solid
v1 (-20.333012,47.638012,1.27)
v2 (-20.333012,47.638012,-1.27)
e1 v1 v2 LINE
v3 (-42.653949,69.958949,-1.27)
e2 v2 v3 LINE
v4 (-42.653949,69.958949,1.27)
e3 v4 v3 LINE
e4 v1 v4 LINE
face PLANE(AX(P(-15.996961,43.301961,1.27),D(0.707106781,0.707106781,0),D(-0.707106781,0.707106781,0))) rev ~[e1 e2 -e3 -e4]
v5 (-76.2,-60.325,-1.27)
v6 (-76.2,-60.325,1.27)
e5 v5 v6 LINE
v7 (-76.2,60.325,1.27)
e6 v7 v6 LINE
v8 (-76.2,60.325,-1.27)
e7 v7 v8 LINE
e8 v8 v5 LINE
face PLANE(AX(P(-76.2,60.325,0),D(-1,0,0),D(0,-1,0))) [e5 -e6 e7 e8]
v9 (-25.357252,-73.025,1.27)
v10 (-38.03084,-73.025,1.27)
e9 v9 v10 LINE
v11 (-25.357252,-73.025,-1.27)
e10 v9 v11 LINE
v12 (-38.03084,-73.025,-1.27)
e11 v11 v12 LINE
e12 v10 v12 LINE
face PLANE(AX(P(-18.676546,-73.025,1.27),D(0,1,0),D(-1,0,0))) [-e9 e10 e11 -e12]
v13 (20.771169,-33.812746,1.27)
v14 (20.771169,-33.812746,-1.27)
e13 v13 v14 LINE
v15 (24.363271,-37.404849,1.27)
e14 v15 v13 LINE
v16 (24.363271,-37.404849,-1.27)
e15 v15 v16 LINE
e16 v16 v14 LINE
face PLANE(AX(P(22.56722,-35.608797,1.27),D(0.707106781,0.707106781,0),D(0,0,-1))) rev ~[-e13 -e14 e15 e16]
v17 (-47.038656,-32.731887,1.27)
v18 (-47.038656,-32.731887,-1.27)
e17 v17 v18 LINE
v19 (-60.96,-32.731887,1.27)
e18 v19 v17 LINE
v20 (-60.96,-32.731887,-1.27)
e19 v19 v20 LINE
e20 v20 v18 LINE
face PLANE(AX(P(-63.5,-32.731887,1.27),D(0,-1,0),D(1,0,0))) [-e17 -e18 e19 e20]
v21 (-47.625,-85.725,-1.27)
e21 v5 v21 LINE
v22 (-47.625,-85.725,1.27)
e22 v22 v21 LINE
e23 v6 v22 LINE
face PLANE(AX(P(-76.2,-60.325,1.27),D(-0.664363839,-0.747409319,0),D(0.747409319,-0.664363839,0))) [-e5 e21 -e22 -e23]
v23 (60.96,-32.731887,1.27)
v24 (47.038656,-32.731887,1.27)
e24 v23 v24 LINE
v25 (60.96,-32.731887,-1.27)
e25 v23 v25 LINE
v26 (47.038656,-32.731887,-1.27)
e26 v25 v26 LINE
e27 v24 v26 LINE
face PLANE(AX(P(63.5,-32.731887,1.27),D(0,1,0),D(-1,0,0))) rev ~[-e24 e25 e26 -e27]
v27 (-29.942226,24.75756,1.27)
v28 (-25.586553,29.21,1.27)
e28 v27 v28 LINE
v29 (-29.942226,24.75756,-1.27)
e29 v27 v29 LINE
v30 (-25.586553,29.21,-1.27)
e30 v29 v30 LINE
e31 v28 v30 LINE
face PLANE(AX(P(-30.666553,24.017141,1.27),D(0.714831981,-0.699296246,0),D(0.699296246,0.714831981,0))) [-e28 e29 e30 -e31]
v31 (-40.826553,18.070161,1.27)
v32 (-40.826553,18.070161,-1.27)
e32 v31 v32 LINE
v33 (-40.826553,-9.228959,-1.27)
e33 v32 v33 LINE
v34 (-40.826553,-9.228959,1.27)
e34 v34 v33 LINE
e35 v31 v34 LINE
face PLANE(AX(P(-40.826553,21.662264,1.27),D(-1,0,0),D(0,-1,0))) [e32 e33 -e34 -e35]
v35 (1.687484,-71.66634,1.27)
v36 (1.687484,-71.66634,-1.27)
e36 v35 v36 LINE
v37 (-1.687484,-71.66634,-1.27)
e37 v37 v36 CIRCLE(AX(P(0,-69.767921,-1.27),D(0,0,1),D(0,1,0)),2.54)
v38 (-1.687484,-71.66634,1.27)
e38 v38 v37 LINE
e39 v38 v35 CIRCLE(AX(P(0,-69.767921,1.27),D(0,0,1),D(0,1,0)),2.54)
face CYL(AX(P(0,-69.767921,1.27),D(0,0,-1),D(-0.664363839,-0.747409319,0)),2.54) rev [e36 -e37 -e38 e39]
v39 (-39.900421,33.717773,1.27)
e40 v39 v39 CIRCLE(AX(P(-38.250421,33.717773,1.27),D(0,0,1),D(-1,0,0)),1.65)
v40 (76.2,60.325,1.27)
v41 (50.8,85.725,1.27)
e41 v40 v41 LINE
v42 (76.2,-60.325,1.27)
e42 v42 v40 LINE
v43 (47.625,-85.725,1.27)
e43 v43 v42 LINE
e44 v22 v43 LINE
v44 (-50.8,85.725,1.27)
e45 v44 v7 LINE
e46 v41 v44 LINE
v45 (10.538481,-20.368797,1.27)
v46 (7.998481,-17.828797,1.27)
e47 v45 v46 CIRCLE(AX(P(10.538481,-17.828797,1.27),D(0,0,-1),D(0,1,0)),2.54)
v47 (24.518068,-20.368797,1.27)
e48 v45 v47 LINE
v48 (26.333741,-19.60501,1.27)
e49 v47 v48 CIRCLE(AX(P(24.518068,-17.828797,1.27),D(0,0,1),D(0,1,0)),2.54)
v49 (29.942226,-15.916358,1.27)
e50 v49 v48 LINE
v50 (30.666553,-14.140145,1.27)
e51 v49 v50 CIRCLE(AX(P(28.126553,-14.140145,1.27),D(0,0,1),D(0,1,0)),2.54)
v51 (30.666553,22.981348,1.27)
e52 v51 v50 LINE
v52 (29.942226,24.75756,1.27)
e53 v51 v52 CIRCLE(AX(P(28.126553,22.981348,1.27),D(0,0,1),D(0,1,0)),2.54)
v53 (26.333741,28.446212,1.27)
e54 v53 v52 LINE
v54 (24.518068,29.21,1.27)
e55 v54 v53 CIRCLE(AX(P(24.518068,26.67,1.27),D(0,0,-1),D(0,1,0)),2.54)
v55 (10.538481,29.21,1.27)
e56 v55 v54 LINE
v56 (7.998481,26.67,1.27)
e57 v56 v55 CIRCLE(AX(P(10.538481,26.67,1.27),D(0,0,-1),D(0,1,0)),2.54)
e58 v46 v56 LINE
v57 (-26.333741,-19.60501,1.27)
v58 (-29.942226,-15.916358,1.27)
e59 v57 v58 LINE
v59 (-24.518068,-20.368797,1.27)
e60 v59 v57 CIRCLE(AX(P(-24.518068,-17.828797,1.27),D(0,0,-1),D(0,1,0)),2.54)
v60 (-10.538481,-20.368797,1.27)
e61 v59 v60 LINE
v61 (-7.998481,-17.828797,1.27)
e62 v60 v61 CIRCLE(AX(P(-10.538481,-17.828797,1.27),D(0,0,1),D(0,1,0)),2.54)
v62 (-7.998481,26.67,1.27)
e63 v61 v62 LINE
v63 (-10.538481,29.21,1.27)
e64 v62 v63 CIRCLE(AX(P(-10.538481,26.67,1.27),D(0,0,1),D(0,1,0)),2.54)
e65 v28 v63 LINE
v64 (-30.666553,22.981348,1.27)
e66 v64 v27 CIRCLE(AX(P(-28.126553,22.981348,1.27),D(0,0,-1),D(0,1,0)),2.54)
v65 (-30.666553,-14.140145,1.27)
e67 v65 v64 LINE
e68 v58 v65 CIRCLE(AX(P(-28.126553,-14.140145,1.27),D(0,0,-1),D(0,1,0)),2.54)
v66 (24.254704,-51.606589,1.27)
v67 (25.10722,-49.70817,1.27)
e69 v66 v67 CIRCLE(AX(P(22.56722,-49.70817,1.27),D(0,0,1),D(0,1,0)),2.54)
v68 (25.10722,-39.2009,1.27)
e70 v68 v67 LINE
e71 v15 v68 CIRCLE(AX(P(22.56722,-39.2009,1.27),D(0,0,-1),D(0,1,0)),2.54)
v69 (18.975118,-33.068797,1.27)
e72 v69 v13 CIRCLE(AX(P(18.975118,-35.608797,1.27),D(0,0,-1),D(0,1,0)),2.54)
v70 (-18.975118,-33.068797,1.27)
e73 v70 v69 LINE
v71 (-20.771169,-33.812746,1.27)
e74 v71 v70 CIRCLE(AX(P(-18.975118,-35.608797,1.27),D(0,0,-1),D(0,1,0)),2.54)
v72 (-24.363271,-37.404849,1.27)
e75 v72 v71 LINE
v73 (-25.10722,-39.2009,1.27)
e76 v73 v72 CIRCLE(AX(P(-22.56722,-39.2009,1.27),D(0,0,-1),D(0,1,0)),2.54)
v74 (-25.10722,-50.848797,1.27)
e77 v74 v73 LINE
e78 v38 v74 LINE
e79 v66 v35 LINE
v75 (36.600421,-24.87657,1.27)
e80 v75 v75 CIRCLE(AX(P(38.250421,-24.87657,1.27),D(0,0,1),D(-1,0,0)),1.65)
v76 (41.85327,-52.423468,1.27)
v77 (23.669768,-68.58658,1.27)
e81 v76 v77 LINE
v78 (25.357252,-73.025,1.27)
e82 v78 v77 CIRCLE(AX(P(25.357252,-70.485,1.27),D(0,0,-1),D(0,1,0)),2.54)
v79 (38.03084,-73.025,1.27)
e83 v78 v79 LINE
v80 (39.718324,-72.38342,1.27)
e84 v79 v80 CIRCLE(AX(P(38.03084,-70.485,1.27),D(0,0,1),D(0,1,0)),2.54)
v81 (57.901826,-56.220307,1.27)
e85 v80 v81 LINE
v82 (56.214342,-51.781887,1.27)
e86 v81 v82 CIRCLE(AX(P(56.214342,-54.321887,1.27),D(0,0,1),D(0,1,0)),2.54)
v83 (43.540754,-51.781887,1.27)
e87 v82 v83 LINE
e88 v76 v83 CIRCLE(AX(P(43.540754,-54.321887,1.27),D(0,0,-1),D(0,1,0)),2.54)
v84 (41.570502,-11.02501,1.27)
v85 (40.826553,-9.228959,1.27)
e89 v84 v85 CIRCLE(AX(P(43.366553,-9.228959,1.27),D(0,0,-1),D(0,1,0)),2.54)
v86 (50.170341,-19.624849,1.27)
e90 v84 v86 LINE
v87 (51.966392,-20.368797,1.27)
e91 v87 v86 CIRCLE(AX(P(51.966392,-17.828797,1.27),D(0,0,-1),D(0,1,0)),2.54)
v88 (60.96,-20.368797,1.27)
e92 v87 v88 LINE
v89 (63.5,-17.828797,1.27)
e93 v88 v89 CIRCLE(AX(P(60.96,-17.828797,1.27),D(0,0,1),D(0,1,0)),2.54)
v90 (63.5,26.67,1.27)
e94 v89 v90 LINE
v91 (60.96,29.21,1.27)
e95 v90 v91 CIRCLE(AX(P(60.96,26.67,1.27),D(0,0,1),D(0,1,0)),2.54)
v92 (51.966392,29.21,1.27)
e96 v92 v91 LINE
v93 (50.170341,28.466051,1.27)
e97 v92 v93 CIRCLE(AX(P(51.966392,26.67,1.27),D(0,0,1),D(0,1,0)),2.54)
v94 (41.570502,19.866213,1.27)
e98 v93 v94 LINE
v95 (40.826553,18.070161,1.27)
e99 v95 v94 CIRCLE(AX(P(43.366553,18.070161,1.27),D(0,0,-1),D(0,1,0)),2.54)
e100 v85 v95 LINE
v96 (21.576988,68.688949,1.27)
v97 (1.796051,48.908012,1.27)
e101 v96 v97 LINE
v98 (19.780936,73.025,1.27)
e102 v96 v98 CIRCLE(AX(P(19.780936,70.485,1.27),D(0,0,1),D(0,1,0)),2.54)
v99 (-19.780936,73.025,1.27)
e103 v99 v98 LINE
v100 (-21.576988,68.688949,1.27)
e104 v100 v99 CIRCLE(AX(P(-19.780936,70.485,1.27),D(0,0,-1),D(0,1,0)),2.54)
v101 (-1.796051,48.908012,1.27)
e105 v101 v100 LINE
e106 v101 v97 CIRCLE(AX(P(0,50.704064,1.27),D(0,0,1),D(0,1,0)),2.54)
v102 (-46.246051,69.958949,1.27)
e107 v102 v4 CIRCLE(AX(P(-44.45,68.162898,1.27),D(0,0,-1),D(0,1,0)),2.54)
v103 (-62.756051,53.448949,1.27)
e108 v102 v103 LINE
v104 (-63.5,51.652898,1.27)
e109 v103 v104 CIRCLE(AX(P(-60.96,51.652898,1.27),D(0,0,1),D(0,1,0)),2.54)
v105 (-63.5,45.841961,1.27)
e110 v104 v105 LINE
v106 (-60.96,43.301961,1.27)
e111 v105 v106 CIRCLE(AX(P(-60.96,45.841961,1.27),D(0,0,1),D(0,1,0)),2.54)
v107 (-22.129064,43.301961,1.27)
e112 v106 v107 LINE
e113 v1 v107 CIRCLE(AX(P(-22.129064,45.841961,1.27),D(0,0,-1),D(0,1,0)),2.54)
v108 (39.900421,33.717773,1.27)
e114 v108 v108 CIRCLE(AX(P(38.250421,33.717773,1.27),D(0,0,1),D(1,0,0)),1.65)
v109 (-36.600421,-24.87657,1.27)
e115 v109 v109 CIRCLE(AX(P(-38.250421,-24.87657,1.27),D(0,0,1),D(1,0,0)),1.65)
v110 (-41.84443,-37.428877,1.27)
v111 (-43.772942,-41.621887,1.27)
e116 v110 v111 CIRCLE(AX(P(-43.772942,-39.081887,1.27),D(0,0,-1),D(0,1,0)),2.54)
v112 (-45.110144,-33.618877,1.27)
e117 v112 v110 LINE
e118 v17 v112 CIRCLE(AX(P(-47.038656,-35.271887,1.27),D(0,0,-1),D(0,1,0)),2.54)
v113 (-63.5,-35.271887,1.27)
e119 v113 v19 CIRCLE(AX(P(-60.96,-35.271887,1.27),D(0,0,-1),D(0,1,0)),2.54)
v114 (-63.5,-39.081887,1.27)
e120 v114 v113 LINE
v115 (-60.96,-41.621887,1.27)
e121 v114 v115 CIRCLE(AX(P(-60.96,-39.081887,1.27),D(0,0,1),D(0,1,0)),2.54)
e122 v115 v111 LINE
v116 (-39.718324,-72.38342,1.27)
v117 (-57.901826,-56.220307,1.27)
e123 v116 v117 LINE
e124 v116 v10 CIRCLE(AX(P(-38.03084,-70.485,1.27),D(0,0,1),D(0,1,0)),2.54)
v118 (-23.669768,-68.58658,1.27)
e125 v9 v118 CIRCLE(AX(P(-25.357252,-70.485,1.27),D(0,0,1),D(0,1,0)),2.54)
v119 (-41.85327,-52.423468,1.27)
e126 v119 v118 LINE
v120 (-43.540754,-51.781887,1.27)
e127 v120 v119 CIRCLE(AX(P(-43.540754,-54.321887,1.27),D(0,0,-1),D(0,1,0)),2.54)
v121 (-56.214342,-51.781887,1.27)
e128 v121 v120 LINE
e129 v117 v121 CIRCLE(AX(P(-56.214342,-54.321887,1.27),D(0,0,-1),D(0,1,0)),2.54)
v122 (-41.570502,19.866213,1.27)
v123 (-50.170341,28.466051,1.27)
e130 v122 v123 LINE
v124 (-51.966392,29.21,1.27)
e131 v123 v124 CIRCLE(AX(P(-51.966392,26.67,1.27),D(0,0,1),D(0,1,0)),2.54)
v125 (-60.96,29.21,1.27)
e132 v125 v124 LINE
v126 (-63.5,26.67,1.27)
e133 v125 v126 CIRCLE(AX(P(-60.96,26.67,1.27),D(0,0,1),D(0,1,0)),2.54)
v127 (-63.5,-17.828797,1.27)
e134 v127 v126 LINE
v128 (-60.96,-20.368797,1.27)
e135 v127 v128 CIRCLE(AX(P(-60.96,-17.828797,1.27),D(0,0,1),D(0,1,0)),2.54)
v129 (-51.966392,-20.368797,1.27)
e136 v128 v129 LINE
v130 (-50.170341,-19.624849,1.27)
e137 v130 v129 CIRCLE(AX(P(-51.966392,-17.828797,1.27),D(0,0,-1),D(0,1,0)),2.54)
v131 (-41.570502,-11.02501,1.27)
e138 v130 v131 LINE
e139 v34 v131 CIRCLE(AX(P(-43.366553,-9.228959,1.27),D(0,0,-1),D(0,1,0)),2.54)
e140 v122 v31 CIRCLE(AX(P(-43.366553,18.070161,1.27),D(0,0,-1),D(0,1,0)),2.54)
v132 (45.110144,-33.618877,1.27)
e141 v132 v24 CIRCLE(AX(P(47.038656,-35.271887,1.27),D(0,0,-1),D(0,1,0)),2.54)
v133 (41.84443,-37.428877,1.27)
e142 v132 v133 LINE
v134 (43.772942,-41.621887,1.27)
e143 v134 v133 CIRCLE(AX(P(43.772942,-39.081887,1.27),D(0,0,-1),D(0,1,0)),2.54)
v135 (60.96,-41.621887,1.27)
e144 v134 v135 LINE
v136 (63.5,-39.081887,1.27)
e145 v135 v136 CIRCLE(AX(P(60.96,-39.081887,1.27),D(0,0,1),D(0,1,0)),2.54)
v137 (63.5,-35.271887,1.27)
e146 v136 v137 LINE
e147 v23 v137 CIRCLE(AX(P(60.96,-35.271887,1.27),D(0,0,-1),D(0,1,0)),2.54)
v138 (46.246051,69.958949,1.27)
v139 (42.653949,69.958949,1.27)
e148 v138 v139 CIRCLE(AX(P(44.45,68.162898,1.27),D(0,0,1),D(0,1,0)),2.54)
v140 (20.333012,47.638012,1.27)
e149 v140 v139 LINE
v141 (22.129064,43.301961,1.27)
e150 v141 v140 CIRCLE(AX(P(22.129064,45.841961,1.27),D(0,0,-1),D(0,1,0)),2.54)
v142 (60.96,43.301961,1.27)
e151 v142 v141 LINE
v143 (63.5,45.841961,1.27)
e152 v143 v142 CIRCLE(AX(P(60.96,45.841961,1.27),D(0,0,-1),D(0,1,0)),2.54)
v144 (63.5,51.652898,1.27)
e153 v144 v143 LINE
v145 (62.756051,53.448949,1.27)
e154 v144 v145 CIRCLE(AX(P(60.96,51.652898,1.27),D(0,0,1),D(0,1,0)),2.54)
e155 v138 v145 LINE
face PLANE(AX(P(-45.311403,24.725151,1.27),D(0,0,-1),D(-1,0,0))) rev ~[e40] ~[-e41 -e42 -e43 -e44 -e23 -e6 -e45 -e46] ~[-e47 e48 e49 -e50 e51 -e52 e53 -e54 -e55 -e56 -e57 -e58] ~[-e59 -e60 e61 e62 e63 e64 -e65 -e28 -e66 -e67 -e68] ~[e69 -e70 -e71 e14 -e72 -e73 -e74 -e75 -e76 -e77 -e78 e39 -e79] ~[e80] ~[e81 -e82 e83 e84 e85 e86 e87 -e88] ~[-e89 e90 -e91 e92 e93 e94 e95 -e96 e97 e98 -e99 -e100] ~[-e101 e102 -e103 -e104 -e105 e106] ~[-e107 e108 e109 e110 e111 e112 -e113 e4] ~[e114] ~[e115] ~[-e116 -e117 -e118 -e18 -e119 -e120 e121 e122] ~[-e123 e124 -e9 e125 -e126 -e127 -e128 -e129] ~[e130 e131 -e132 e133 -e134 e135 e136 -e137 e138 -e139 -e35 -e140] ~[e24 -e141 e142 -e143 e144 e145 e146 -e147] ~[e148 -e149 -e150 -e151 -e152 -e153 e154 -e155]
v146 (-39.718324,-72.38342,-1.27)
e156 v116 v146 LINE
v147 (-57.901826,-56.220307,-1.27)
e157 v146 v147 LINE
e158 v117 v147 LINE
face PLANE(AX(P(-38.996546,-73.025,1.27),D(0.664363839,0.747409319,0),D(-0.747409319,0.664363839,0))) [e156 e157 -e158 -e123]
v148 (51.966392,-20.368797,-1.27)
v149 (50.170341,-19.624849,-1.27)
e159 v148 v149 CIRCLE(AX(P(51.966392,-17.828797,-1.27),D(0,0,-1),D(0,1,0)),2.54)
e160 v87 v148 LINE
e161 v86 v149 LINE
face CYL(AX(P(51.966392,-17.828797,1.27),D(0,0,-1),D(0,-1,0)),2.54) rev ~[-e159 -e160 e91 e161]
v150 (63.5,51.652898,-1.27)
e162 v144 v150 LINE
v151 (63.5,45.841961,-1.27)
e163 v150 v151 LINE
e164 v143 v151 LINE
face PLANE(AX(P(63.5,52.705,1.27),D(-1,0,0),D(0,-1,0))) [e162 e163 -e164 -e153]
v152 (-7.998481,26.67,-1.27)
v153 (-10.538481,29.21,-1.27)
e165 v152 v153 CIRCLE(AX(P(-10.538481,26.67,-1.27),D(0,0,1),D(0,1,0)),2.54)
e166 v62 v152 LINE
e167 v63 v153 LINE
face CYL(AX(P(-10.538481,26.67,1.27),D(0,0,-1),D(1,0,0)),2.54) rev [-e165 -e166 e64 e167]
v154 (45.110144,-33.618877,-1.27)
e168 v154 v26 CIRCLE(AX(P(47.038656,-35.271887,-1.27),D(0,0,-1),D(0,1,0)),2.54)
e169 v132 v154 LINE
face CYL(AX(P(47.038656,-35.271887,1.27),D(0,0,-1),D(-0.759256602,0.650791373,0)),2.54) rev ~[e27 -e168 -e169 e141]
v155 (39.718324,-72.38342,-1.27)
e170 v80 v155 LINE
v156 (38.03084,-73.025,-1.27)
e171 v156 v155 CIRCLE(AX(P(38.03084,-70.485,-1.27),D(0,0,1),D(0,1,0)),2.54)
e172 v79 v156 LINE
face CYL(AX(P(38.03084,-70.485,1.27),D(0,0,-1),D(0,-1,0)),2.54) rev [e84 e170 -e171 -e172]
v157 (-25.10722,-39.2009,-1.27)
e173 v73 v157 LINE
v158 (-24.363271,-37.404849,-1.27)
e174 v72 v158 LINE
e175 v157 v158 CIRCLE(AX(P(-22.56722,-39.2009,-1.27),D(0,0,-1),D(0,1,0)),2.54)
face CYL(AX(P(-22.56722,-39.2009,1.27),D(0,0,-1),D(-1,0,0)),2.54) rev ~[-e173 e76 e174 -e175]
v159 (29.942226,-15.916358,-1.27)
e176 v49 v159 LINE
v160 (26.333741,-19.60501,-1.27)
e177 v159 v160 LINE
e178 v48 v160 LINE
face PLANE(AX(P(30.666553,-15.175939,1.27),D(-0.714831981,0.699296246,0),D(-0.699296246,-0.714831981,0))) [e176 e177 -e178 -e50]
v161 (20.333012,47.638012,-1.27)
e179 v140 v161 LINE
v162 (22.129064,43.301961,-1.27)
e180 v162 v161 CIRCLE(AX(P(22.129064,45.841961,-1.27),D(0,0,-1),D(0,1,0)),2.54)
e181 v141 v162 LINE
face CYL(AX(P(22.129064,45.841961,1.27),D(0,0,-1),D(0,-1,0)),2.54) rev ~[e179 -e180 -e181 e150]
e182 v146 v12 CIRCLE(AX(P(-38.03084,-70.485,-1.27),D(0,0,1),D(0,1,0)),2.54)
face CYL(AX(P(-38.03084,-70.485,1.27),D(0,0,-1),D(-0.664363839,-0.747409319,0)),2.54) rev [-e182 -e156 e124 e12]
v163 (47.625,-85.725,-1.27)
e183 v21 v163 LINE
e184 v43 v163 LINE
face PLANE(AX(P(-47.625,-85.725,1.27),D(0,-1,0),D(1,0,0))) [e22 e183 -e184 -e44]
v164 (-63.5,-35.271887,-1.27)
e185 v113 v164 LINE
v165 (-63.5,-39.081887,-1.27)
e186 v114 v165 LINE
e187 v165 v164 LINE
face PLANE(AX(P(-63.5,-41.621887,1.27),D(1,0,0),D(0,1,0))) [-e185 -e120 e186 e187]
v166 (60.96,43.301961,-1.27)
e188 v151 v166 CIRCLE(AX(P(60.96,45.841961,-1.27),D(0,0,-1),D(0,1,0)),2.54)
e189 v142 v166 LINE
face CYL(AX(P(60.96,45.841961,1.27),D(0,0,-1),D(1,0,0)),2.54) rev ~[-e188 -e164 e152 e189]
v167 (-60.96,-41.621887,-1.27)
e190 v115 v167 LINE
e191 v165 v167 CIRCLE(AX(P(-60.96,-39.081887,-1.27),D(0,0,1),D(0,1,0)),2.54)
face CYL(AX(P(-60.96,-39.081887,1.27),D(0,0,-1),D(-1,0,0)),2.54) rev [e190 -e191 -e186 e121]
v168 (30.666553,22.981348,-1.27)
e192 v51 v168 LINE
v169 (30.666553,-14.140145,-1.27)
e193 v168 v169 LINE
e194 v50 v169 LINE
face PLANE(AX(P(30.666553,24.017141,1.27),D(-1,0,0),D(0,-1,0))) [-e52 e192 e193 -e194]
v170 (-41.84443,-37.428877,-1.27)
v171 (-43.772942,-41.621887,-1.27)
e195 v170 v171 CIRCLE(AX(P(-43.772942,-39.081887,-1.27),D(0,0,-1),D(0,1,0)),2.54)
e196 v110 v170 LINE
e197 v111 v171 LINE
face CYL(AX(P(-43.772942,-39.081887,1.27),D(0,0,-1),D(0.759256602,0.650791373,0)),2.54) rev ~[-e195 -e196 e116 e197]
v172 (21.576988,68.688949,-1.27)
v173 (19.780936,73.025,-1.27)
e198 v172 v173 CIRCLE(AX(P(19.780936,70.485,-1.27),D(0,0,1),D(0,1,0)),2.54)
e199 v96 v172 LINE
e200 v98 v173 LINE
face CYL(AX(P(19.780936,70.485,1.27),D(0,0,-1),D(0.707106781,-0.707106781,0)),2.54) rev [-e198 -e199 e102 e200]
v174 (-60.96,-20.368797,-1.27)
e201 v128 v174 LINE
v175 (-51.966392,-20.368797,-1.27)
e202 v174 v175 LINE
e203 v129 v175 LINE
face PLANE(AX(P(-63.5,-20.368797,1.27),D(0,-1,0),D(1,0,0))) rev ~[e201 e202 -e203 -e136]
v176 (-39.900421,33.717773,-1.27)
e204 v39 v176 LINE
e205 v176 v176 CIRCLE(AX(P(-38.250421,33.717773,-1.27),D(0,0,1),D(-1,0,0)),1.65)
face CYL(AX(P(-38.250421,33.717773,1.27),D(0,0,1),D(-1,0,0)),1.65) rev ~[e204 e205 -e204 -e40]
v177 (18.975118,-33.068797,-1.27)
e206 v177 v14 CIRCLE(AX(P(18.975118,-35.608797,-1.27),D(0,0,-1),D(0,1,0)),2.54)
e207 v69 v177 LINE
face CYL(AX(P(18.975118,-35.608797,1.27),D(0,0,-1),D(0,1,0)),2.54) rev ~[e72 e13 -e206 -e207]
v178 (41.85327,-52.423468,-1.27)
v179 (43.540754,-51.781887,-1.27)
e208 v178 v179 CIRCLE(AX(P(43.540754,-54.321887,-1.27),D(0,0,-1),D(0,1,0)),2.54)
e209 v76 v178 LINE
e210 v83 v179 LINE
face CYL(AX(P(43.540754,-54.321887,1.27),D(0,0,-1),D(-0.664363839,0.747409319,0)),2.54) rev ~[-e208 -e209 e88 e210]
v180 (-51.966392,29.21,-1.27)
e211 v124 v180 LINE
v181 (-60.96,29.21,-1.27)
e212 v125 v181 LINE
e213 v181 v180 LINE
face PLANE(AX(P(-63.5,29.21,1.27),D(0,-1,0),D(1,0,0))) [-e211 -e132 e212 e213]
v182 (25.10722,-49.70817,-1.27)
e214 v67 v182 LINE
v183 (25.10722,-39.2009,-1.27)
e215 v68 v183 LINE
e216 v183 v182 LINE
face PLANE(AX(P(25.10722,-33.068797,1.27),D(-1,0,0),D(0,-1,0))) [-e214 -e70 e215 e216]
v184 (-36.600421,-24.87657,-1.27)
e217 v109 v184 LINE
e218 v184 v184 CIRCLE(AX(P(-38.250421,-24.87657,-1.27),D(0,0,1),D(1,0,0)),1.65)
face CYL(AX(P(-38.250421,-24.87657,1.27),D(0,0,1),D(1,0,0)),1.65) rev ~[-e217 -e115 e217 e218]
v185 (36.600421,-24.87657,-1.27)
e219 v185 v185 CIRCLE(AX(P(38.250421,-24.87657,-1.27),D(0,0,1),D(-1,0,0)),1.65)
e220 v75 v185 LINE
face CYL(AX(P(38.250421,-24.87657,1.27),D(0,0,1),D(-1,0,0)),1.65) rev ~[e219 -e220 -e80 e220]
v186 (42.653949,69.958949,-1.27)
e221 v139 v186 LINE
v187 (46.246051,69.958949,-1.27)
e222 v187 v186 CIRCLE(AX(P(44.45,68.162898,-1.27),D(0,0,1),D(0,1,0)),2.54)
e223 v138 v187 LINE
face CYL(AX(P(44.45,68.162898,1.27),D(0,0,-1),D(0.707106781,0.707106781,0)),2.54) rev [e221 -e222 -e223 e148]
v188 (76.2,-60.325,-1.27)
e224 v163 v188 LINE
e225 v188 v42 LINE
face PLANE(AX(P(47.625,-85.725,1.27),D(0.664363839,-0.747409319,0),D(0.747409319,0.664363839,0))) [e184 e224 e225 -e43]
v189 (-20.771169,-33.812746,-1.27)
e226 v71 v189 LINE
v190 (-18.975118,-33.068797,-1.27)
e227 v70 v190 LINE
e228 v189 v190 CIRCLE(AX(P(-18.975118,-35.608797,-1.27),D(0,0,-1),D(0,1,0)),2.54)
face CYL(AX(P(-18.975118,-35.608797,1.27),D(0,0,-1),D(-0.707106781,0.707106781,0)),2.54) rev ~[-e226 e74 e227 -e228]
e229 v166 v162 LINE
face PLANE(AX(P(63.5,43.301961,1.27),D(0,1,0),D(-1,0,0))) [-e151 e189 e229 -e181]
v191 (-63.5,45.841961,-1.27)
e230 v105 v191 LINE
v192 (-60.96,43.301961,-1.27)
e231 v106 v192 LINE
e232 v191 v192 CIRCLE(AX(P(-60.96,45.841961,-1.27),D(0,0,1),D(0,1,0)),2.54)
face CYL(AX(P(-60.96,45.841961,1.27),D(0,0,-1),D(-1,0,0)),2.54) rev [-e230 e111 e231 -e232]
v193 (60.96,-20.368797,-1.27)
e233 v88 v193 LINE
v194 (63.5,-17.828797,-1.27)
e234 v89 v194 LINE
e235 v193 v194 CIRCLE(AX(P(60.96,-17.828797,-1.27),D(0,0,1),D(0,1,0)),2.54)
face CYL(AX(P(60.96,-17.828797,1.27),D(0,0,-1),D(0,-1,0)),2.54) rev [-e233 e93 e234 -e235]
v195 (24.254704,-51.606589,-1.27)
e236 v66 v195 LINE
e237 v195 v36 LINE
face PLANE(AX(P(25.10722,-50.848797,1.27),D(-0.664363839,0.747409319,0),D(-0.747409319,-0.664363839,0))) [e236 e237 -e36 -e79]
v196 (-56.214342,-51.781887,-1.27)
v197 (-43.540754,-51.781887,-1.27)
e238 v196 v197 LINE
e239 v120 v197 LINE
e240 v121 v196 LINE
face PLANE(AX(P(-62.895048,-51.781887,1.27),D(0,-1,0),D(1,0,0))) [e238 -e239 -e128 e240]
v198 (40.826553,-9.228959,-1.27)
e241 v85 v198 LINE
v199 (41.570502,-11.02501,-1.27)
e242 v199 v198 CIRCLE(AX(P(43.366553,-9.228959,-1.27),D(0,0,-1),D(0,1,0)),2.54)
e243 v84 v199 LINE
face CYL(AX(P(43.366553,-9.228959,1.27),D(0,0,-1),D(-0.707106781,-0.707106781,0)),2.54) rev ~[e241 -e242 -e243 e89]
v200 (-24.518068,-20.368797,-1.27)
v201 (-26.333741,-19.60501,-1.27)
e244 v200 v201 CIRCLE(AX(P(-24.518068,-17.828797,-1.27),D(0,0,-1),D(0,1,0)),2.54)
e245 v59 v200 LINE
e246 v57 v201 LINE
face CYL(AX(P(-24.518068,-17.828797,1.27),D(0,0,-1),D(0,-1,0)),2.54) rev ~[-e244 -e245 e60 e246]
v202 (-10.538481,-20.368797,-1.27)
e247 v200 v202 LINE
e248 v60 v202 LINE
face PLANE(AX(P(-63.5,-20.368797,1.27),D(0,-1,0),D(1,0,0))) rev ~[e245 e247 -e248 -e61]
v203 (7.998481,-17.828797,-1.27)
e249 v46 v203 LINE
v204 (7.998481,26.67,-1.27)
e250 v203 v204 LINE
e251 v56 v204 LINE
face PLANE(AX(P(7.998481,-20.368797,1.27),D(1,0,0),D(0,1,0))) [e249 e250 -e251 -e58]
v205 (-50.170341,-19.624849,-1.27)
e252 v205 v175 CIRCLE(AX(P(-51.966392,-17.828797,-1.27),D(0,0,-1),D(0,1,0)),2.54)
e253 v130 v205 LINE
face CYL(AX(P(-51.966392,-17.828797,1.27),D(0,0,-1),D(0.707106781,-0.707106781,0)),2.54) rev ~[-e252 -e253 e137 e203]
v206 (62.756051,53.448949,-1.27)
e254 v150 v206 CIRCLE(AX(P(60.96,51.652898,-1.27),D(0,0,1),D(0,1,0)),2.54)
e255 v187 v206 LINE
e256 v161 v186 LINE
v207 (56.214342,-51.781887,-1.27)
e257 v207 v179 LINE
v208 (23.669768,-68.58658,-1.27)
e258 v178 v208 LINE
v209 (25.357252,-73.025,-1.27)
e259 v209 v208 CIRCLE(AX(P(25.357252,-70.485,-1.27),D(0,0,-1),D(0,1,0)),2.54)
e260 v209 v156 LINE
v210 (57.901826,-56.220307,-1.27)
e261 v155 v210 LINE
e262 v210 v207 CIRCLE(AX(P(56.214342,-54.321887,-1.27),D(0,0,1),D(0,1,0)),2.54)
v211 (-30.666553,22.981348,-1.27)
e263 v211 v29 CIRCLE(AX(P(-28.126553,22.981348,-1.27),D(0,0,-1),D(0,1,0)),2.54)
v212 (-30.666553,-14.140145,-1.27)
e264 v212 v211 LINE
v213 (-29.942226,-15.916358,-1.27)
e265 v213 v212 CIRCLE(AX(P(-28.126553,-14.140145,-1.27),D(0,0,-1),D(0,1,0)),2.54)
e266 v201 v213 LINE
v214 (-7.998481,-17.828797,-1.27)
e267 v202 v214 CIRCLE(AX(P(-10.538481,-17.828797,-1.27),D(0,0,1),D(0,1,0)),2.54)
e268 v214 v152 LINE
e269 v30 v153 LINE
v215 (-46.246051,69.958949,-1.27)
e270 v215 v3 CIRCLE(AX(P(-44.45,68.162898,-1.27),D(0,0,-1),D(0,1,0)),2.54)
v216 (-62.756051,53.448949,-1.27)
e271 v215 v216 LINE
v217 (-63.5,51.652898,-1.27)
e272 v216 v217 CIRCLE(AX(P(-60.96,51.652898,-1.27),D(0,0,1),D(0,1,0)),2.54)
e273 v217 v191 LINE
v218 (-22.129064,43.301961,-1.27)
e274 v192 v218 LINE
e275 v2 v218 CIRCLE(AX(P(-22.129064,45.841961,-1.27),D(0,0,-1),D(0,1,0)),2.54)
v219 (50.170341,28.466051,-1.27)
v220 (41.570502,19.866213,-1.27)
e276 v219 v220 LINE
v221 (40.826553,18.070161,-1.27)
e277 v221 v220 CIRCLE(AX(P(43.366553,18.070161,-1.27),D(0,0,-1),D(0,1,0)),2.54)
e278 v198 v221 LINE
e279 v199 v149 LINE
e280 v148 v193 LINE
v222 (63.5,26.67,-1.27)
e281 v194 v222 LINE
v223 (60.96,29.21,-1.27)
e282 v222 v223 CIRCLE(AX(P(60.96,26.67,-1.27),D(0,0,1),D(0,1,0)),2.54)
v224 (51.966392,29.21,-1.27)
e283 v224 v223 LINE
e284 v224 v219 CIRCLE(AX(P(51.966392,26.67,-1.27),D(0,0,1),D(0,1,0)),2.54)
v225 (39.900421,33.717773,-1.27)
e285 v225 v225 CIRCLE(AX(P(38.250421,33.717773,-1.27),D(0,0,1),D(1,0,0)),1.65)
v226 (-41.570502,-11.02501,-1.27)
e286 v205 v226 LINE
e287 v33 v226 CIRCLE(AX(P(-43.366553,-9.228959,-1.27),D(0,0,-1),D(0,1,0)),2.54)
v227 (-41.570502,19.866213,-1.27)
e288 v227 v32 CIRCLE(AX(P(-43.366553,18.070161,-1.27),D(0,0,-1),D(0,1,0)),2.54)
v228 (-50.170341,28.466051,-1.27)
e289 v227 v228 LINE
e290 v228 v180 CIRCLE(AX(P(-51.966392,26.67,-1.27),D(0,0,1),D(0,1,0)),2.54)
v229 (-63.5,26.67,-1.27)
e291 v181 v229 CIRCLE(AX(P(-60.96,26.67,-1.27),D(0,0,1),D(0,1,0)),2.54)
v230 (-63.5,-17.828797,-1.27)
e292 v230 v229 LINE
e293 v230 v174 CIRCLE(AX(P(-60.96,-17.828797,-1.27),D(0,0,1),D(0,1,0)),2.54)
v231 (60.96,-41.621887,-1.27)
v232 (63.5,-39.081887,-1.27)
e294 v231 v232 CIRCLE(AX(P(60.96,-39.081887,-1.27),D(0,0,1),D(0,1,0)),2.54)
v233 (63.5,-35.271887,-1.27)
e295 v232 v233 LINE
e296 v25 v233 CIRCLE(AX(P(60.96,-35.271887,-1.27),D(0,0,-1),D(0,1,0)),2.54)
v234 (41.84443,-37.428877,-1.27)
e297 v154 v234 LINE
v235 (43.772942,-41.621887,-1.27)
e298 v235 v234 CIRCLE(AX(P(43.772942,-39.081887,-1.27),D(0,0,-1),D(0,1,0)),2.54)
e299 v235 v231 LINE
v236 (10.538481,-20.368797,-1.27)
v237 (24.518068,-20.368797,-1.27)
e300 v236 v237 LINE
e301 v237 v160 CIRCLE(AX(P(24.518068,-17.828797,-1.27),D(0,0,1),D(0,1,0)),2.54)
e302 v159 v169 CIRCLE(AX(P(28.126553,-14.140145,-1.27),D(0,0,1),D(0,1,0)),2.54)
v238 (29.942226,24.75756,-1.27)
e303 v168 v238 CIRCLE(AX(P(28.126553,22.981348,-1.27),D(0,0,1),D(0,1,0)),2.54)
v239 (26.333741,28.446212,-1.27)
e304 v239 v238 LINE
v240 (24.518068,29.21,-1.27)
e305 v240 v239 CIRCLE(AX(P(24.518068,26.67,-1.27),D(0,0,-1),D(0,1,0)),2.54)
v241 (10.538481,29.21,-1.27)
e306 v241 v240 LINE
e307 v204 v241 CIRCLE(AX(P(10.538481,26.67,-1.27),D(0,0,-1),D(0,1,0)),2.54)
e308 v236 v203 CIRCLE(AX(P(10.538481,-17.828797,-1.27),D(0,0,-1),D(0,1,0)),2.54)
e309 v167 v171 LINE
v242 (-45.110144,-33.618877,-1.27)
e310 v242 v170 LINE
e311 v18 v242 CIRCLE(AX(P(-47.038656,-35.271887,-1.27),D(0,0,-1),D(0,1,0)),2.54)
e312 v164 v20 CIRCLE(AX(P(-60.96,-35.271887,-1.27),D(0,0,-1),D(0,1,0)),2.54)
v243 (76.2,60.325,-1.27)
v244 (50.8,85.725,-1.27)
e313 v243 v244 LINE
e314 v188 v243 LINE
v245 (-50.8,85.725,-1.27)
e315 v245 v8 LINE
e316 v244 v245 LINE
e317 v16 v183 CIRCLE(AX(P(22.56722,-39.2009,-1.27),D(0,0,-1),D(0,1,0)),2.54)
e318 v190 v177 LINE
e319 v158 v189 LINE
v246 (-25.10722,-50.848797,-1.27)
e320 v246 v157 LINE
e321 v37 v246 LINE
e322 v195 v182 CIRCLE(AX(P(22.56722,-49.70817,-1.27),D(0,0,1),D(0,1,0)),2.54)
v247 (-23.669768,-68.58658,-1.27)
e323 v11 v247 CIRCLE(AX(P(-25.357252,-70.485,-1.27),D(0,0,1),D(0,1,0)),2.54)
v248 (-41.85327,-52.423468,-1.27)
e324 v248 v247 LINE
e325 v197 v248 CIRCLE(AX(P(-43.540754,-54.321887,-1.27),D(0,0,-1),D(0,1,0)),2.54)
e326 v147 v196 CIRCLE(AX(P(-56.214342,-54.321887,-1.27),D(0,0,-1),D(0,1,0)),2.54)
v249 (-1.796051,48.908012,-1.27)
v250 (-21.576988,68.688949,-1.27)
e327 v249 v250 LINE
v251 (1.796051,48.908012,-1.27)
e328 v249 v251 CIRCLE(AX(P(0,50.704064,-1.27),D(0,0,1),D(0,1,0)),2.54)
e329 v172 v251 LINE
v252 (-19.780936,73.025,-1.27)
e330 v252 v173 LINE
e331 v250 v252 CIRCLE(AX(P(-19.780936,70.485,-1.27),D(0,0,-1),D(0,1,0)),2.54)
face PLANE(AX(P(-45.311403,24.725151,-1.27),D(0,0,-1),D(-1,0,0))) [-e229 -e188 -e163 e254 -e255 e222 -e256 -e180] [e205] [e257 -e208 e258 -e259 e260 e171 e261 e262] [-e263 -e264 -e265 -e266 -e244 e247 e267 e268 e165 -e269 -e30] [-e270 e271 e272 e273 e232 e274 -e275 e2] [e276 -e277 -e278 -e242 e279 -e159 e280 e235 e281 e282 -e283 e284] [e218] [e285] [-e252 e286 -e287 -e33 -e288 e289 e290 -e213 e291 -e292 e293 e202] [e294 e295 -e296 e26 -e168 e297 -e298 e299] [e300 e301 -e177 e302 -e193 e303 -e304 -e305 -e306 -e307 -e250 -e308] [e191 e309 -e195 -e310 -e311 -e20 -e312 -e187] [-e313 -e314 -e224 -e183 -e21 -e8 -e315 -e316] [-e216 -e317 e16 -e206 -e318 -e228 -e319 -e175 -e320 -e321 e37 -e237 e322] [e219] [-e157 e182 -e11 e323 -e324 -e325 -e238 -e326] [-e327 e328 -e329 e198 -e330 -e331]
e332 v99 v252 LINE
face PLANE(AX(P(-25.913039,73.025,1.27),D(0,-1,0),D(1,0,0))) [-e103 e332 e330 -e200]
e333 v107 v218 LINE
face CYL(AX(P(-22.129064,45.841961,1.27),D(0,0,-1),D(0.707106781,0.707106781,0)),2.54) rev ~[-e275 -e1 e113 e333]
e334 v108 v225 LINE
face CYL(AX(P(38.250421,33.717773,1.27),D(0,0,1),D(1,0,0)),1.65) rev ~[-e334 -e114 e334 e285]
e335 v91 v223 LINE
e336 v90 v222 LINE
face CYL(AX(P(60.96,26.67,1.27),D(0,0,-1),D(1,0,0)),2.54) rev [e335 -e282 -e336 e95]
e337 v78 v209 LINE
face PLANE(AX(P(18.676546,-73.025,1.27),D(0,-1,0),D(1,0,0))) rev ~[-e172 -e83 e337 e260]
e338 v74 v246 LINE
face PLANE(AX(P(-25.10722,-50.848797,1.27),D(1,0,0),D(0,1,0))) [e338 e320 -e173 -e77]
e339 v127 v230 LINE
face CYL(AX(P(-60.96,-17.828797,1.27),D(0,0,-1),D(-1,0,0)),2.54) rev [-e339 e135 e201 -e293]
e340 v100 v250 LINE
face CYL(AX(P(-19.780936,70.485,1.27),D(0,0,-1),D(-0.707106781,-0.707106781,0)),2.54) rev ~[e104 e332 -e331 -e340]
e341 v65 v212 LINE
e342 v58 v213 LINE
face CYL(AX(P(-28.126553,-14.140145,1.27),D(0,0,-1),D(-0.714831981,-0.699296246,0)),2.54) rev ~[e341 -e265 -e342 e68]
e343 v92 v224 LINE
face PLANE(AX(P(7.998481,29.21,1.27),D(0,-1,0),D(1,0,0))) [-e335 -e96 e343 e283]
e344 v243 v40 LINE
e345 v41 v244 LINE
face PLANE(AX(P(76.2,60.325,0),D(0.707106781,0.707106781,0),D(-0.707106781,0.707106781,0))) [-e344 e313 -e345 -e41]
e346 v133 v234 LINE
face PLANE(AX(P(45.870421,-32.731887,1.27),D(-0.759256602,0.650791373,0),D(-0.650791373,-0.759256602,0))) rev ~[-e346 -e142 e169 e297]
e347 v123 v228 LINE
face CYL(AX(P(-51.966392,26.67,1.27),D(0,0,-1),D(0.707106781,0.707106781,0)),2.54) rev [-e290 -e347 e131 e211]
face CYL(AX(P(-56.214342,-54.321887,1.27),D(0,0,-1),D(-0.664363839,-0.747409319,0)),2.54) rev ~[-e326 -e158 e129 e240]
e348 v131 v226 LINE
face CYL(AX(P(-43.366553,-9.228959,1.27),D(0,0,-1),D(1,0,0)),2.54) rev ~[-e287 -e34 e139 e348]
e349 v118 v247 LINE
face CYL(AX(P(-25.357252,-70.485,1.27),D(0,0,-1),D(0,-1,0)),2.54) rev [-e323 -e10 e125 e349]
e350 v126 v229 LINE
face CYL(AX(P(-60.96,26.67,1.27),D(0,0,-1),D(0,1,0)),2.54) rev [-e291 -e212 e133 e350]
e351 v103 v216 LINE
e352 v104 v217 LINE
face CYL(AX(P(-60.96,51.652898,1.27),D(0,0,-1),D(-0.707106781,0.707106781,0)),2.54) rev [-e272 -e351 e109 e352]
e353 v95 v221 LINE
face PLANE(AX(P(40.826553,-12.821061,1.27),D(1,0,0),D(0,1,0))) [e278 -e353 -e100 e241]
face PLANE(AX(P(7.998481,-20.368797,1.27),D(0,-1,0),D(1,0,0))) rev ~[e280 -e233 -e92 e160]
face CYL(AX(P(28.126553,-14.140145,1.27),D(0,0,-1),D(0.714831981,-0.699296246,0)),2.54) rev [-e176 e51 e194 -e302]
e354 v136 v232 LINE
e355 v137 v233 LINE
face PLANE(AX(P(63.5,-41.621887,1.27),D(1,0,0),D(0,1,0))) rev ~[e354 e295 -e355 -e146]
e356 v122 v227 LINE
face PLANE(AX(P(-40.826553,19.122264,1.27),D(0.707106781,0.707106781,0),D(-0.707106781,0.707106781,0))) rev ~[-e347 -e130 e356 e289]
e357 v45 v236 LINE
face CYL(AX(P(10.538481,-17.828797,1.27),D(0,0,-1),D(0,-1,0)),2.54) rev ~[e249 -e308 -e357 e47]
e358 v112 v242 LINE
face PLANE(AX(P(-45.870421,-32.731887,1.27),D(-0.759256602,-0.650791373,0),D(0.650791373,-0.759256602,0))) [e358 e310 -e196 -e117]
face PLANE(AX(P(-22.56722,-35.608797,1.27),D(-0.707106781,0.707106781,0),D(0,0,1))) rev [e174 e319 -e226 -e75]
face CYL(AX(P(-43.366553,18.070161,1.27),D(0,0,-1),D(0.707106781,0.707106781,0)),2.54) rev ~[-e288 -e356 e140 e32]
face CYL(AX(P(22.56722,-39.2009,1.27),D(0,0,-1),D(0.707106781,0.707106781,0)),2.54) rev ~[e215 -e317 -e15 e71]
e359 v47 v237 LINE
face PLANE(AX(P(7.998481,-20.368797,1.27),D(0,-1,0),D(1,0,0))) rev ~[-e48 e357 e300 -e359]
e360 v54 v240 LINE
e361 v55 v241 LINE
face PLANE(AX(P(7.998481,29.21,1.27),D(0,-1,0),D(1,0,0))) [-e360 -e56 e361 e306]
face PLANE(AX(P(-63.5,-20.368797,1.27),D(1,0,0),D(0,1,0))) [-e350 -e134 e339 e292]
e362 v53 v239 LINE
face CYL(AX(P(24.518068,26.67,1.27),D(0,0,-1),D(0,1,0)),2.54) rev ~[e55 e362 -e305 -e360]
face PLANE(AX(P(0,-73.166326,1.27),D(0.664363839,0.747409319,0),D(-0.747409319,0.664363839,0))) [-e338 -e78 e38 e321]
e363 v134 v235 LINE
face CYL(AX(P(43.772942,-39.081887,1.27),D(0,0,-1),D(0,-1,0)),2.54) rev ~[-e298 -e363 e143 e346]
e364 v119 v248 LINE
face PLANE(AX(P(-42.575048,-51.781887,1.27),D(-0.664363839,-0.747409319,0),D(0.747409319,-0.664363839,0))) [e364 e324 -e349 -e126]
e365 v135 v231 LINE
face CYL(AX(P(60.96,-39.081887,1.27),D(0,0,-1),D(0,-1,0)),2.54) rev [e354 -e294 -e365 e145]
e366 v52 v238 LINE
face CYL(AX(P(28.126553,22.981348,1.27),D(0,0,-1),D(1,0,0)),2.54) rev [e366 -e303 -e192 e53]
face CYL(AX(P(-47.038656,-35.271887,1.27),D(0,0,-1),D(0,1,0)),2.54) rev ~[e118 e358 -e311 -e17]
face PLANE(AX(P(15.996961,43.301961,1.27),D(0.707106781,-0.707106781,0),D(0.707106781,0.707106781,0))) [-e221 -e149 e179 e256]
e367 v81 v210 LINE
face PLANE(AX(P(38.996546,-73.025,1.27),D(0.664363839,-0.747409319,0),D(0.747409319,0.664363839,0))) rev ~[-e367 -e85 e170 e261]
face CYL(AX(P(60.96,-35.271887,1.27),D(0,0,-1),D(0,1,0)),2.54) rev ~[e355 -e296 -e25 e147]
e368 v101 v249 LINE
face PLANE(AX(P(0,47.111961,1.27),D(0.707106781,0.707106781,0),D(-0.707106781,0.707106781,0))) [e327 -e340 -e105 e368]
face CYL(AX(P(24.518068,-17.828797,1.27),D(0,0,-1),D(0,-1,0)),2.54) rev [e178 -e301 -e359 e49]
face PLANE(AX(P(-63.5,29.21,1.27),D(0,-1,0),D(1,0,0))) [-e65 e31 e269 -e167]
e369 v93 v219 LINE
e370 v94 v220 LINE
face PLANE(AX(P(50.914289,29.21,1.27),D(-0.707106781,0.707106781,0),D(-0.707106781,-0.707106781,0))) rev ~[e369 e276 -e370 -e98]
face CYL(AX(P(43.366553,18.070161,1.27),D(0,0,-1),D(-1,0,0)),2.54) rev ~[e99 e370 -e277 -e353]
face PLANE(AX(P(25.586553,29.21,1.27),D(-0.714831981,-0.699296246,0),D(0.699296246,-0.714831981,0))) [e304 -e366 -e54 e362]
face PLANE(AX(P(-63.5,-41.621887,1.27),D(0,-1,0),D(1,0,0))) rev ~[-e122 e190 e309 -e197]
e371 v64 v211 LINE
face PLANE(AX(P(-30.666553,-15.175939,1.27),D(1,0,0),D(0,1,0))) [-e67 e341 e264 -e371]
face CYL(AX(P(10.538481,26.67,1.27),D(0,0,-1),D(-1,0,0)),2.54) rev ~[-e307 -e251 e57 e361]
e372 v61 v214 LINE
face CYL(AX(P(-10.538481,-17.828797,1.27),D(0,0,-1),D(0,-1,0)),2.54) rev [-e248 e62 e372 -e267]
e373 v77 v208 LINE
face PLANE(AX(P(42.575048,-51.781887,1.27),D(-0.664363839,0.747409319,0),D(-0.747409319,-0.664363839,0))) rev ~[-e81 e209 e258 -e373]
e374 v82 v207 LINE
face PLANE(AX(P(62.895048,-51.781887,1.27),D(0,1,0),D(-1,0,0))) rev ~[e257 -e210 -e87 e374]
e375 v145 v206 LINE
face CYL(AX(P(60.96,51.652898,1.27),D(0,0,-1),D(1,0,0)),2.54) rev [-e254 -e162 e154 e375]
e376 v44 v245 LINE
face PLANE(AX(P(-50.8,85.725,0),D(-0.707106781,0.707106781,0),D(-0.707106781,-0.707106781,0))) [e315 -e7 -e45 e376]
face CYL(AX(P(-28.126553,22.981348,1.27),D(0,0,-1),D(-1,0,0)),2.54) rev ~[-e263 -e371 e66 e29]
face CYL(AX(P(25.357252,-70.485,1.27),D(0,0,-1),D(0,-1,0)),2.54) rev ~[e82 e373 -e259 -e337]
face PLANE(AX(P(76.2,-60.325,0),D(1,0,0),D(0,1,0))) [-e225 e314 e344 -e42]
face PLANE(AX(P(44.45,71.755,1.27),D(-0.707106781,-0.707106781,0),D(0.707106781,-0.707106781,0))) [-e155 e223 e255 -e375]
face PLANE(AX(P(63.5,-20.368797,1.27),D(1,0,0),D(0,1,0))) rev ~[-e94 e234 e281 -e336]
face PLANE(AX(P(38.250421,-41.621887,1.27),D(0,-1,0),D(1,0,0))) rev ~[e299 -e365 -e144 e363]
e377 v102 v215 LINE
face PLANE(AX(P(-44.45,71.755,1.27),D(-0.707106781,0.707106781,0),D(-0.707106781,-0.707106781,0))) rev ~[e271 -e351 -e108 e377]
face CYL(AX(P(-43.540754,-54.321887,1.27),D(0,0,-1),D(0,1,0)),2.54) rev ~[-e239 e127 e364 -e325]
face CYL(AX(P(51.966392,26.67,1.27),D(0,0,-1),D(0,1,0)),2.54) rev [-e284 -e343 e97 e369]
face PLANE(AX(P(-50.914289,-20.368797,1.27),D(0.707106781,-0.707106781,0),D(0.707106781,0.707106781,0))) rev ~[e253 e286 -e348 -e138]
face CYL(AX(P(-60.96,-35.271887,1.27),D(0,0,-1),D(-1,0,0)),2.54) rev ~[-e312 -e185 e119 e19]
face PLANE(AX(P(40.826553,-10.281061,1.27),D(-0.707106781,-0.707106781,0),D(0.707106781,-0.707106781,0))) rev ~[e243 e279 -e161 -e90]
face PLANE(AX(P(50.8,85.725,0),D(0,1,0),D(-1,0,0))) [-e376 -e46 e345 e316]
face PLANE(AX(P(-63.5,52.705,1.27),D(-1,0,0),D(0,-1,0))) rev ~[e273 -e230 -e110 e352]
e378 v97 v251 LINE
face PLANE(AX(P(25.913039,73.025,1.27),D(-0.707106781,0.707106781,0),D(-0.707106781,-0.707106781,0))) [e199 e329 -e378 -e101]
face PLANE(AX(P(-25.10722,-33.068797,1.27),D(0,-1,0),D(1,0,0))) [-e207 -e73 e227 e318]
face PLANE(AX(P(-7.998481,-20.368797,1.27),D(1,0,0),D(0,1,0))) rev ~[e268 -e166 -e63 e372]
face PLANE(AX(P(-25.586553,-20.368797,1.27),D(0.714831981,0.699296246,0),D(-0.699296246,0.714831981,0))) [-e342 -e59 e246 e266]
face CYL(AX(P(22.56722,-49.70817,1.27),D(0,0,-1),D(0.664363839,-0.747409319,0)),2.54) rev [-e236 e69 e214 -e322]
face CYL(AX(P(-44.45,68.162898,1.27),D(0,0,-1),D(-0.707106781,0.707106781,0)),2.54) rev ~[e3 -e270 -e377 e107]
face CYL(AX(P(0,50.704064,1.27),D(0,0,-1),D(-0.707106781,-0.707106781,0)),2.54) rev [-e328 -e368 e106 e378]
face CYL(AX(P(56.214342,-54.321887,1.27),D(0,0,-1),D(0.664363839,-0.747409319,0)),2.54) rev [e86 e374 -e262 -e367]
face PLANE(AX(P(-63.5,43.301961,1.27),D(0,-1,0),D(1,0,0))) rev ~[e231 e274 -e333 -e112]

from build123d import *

# Parameters (mm, degrees)
BOSS_EXTRUDE1_DEPTH = 1.27
BOSS_EXTRUDE2_DEPTH = 2.54
SKETCH3_W           = 55.501519427
SKETCH3_H           = 49.578797493
CUT_EXTRUDE1_DEPTH  = 2.54
BOSS_EXTRUDE3_DEPTH = 2.54
BOSS_EXTRUDE4_DEPTH = 2.54
SKETCH6_R           = 1.65
CUT_EXTRUDE2_DEPTH  = 2.54
CHAMFER1_SIZE       = 5.08
FILLET1_R           = 2.54
FILLET2_R           = 2.54


with BuildPart() as part:
    # Sketch1 → Boss-Extrude1 (new, symmetric)
    with BuildSketch(Plane.XY):
        Polygon((-76.2, 60.325), (-76.2, -60.325), (76.2, -60.325), (76.2, 60.325), (50.8, 85.725), (-50.8, 85.725), align=None)
    extrude(amount=BOSS_EXTRUDE1_DEPTH, both=True)

    # Sketch2 → Boss-Extrude2 (add)
    with BuildSketch(Plane.XY.offset(1.27)):
        Polygon((-47.625, -85.725), (47.625, -85.725), (76.2, -60.325), (-76.2, -60.325), align=None)
    extrude(amount=-BOSS_EXTRUDE2_DEPTH)

    # Sketch3 → Cut-Extrude1 (cut)
    with BuildSketch(Plane.XY.offset(1.27)):
        Polygon((-25.107219952, -50.848797493), (-25.107219952, -33.068797493), (25.107219952, -33.068797493), (25.107219952, -50.848797493), (0, -73.166326339), align=None)
        Polygon((-62.895047936, -51.78188729), (-42.575047936, -51.78188729), (-18.676546137, -73.025), (-38.996546137, -73.025), align=None)
        Polygon((-25.913038854, 73.025), (25.913038854, 73.025), (0, 47.111961146), align=None)
        Polygon((18.676546137, -73.025), (38.996546137, -73.025), (62.895047936, -51.78188729), (42.575047936, -51.78188729), align=None)
        Polygon((-44.45, 71.755), (-63.5, 52.705), (-63.5, 43.301961146), (-15.996961146, 43.301961146), align=None)
        Polygon((44.45, 71.755), (63.5, 52.705), (63.5, 43.301961146), (15.996961146, 43.301961146), align=None)
        with Locations((-35.749240287, 4.420601253)):
            Rectangle(SKETCH3_W, SKETCH3_H)
        with Locations((35.749240287, 4.420601253)):
            Rectangle(SKETCH3_W, SKETCH3_H)
    extrude(amount=-CUT_EXTRUDE1_DEPTH, mode=Mode.SUBTRACT)

    # Sketch4 → Boss-Extrude3 (add)
    with BuildSketch(Plane.XY.offset(1.27)):
        Polygon((40.826553226, 29.21), (30.666553226, 29.21), (30.666553226, 24.01714149), (30.666553226, -15.175938983), (30.666553226, -20.368797493), (40.826553226, -20.368797493), (40.826553226, -12.82106127), (40.826553226, 21.662263777), align=None)
        Polygon((30.666553226, 24.01714149), (30.666553226, 29.21), (25.586553226, 29.21), align=None)
        Polygon((48.374289449, 29.21), (40.826553226, 29.21), (40.826553226, 21.662263777), align=None)
        Polygon((30.666553226, -20.368797493), (30.666553226, -15.175938983), (25.586553226, -20.368797493), align=None)
        Polygon((48.374289449, -20.368797493), (40.826553226, -12.82106127), (40.826553226, -20.368797493), align=None)
        Polygon((-25.586553226, 29.21), (-30.666553226, 29.21), (-30.666553226, 24.01714149), align=None)
        Polygon((-30.666553226, 24.01714149), (-30.666553226, 29.21), (-40.826553226, 29.21), (-40.826553226, 21.662263777), (-40.826553226, -12.82106127), (-40.826553226, -20.368797493), (-30.666553226, -20.368797493), (-30.666553226, -15.175938983), align=None)
        Polygon((-40.826553226, 21.662263777), (-40.826553226, 29.21), (-48.374289449, 29.21), align=None)
        Polygon((-25.586553226, -20.368797493), (-30.666553226, -15.175938983), (-30.666553226, -20.368797493), align=None)
        Polygon((-40.826553226, -20.368797493), (-40.826553226, -12.82106127), (-48.374289449, -20.368797493), align=None)
    extrude(amount=-BOSS_EXTRUDE3_DEPTH)

    # Sketch5 → Boss-Extrude4 (add)
    with BuildSketch(Plane.XY.offset(1.27)):
        Polygon((-40.826553226, 21.662263777), (-40.826553226, 19.122263777), (-50.914289449, 29.21), (-48.374289449, 29.21), align=None)
        Polygon((-48.374289449, -20.368797493), (-50.914289449, -20.368797493), (-40.826553226, -10.28106127), (-40.826553226, -12.82106127), align=None)
        Polygon((48.374289449, -20.368797493), (40.826553226, -12.82106127), (40.826553226, -10.28106127), (50.914289449, -20.368797493), align=None)
        Polygon((48.374289449, 29.21), (50.914289449, 29.21), (40.826553226, 19.122263777), (40.826553226, 21.662263777), align=None)
    extrude(amount=-BOSS_EXTRUDE4_DEPTH)

    # Sketch6 → Cut-Extrude2 (cut)
    with BuildSketch(Plane.XY.offset(1.27)):
        with Locations((38.250421337, 33.717772659)):
            Circle(SKETCH6_R)
        with Locations(Location((38.250421337, -24.876570152, 0), (0, 0, 180))):
            Circle(SKETCH6_R)
        with Locations((-38.250421337, -24.876570152)):
            Circle(SKETCH6_R)
        with Locations(Location((-38.250421337, 33.717772659, 0), (0, 0, 180))):
            Circle(SKETCH6_R)
        Polygon((45.870421337, -41.62188729), (63.5, -41.62188729), (63.5, -32.73188729), (45.870421337, -32.73188729), (38.250421337, -41.62188729), align=None)
        Polygon((-63.5, -41.62188729), (-63.5, -32.73188729), (-45.870421337, -32.73188729), (-38.250421337, -41.62188729), (-45.870421337, -41.62188729), align=None)
    extrude(amount=-CUT_EXTRUDE2_DEPTH, mode=Mode.SUBTRACT)

    # Chamfer1
    chamfer1_edges = [part.edges().sort_by_distance(p)[0] for p in [
        (-25.107219952, -33.068797493, 0),
        (25.107219952, -33.068797493, 0),
    ]]
    chamfer(chamfer1_edges, length=CHAMFER1_SIZE)

    # Fillet1
    fillet1_edges = [part.edges().sort_by_distance(p)[0] for p in [
        (25.107219952, -50.848797493, 0),
        (0, -73.166326339, 0),
        (38.250421337, -41.62188729, 0),
        (45.870421337, -32.73188729, 0),
        (63.5, -32.73188729, 0),
        (63.5, -41.62188729, 0),
        (-63.5, -41.62188729, 0),
        (-63.5, -32.73188729, 0),
        (-45.870421337, -32.73188729, 0),
        (-38.250421337, -41.62188729, 0),
        (-20.027219952, -33.068797493, 0),
        (20.027219952, -33.068797493, 0),
        (25.107219952, -38.148797493, 0),
        (-25.107219952, -38.148797493, 0),
        (-38.996546137, -73.025, 0),
        (-62.895047936, -51.78188729, 0),
        (-42.575047936, -51.78188729, 0),
        (-18.676546137, -73.025, 0),
        (18.676546137, -73.025, 0),
        (42.575047936, -51.78188729, 0),
        (62.895047936, -51.78188729, 0),
        (38.996546137, -73.025, 0),
    ]]
    fillet(fillet1_edges, radius=FILLET1_R)

    # Fillet2
    fillet2_edges = [part.edges().sort_by_distance(p)[0] for p in [
        (-44.45, 71.755, 0),
        (-15.996961146, 43.301961146, 0),
        (-63.5, 43.301961146, 0),
        (-63.5, 52.705, 0),
        (15.996961146, 43.301961146, 0),
        (44.45, 71.755, 0),
        (63.5, 52.705, 0),
        (63.5, 43.301961146, 0),
        (7.998480573, 29.21, 0),
        (63.5, 29.21, 0),
        (63.5, -20.368797493, 0),
        (7.998480573, -20.368797493, 0),
        (25.586553226, 29.21, 0),
        (30.666553226, -15.175938983, 0),
        (30.666553226, 24.01714149, 0),
        (25.586553226, -20.368797493, 0),
        (-25.586553226, -20.368797493, 0),
        (-30.666553226, -15.175938983, 0),
        (-30.666553226, 24.01714149, 0),
        (-50.914289449, -20.368797493, 0),
        (-40.826553226, -10.28106127, 0),
        (50.914289449, 29.21, 0),
        (40.826553226, 19.122263777, 0),
        (50.914289449, -20.368797493, 0),
        (40.826553226, -10.28106127, 0),
        (-50.914289449, 29.21, 0),
        (-40.826553226, 19.122263777, 0),
        (-7.998480573, -20.368797493, 0),
        (-63.5, -20.368797493, 0),
        (-63.5, 29.21, 0),
        (-7.998480573, 29.21, 0),
        (25.913038854, 73.025, 0),
        (0, 47.111961146, 0),
        (-25.913038854, 73.025, 0),
    ]]
    fillet(fillet2_edges, radius=FILLET2_R)


solid = part.part
